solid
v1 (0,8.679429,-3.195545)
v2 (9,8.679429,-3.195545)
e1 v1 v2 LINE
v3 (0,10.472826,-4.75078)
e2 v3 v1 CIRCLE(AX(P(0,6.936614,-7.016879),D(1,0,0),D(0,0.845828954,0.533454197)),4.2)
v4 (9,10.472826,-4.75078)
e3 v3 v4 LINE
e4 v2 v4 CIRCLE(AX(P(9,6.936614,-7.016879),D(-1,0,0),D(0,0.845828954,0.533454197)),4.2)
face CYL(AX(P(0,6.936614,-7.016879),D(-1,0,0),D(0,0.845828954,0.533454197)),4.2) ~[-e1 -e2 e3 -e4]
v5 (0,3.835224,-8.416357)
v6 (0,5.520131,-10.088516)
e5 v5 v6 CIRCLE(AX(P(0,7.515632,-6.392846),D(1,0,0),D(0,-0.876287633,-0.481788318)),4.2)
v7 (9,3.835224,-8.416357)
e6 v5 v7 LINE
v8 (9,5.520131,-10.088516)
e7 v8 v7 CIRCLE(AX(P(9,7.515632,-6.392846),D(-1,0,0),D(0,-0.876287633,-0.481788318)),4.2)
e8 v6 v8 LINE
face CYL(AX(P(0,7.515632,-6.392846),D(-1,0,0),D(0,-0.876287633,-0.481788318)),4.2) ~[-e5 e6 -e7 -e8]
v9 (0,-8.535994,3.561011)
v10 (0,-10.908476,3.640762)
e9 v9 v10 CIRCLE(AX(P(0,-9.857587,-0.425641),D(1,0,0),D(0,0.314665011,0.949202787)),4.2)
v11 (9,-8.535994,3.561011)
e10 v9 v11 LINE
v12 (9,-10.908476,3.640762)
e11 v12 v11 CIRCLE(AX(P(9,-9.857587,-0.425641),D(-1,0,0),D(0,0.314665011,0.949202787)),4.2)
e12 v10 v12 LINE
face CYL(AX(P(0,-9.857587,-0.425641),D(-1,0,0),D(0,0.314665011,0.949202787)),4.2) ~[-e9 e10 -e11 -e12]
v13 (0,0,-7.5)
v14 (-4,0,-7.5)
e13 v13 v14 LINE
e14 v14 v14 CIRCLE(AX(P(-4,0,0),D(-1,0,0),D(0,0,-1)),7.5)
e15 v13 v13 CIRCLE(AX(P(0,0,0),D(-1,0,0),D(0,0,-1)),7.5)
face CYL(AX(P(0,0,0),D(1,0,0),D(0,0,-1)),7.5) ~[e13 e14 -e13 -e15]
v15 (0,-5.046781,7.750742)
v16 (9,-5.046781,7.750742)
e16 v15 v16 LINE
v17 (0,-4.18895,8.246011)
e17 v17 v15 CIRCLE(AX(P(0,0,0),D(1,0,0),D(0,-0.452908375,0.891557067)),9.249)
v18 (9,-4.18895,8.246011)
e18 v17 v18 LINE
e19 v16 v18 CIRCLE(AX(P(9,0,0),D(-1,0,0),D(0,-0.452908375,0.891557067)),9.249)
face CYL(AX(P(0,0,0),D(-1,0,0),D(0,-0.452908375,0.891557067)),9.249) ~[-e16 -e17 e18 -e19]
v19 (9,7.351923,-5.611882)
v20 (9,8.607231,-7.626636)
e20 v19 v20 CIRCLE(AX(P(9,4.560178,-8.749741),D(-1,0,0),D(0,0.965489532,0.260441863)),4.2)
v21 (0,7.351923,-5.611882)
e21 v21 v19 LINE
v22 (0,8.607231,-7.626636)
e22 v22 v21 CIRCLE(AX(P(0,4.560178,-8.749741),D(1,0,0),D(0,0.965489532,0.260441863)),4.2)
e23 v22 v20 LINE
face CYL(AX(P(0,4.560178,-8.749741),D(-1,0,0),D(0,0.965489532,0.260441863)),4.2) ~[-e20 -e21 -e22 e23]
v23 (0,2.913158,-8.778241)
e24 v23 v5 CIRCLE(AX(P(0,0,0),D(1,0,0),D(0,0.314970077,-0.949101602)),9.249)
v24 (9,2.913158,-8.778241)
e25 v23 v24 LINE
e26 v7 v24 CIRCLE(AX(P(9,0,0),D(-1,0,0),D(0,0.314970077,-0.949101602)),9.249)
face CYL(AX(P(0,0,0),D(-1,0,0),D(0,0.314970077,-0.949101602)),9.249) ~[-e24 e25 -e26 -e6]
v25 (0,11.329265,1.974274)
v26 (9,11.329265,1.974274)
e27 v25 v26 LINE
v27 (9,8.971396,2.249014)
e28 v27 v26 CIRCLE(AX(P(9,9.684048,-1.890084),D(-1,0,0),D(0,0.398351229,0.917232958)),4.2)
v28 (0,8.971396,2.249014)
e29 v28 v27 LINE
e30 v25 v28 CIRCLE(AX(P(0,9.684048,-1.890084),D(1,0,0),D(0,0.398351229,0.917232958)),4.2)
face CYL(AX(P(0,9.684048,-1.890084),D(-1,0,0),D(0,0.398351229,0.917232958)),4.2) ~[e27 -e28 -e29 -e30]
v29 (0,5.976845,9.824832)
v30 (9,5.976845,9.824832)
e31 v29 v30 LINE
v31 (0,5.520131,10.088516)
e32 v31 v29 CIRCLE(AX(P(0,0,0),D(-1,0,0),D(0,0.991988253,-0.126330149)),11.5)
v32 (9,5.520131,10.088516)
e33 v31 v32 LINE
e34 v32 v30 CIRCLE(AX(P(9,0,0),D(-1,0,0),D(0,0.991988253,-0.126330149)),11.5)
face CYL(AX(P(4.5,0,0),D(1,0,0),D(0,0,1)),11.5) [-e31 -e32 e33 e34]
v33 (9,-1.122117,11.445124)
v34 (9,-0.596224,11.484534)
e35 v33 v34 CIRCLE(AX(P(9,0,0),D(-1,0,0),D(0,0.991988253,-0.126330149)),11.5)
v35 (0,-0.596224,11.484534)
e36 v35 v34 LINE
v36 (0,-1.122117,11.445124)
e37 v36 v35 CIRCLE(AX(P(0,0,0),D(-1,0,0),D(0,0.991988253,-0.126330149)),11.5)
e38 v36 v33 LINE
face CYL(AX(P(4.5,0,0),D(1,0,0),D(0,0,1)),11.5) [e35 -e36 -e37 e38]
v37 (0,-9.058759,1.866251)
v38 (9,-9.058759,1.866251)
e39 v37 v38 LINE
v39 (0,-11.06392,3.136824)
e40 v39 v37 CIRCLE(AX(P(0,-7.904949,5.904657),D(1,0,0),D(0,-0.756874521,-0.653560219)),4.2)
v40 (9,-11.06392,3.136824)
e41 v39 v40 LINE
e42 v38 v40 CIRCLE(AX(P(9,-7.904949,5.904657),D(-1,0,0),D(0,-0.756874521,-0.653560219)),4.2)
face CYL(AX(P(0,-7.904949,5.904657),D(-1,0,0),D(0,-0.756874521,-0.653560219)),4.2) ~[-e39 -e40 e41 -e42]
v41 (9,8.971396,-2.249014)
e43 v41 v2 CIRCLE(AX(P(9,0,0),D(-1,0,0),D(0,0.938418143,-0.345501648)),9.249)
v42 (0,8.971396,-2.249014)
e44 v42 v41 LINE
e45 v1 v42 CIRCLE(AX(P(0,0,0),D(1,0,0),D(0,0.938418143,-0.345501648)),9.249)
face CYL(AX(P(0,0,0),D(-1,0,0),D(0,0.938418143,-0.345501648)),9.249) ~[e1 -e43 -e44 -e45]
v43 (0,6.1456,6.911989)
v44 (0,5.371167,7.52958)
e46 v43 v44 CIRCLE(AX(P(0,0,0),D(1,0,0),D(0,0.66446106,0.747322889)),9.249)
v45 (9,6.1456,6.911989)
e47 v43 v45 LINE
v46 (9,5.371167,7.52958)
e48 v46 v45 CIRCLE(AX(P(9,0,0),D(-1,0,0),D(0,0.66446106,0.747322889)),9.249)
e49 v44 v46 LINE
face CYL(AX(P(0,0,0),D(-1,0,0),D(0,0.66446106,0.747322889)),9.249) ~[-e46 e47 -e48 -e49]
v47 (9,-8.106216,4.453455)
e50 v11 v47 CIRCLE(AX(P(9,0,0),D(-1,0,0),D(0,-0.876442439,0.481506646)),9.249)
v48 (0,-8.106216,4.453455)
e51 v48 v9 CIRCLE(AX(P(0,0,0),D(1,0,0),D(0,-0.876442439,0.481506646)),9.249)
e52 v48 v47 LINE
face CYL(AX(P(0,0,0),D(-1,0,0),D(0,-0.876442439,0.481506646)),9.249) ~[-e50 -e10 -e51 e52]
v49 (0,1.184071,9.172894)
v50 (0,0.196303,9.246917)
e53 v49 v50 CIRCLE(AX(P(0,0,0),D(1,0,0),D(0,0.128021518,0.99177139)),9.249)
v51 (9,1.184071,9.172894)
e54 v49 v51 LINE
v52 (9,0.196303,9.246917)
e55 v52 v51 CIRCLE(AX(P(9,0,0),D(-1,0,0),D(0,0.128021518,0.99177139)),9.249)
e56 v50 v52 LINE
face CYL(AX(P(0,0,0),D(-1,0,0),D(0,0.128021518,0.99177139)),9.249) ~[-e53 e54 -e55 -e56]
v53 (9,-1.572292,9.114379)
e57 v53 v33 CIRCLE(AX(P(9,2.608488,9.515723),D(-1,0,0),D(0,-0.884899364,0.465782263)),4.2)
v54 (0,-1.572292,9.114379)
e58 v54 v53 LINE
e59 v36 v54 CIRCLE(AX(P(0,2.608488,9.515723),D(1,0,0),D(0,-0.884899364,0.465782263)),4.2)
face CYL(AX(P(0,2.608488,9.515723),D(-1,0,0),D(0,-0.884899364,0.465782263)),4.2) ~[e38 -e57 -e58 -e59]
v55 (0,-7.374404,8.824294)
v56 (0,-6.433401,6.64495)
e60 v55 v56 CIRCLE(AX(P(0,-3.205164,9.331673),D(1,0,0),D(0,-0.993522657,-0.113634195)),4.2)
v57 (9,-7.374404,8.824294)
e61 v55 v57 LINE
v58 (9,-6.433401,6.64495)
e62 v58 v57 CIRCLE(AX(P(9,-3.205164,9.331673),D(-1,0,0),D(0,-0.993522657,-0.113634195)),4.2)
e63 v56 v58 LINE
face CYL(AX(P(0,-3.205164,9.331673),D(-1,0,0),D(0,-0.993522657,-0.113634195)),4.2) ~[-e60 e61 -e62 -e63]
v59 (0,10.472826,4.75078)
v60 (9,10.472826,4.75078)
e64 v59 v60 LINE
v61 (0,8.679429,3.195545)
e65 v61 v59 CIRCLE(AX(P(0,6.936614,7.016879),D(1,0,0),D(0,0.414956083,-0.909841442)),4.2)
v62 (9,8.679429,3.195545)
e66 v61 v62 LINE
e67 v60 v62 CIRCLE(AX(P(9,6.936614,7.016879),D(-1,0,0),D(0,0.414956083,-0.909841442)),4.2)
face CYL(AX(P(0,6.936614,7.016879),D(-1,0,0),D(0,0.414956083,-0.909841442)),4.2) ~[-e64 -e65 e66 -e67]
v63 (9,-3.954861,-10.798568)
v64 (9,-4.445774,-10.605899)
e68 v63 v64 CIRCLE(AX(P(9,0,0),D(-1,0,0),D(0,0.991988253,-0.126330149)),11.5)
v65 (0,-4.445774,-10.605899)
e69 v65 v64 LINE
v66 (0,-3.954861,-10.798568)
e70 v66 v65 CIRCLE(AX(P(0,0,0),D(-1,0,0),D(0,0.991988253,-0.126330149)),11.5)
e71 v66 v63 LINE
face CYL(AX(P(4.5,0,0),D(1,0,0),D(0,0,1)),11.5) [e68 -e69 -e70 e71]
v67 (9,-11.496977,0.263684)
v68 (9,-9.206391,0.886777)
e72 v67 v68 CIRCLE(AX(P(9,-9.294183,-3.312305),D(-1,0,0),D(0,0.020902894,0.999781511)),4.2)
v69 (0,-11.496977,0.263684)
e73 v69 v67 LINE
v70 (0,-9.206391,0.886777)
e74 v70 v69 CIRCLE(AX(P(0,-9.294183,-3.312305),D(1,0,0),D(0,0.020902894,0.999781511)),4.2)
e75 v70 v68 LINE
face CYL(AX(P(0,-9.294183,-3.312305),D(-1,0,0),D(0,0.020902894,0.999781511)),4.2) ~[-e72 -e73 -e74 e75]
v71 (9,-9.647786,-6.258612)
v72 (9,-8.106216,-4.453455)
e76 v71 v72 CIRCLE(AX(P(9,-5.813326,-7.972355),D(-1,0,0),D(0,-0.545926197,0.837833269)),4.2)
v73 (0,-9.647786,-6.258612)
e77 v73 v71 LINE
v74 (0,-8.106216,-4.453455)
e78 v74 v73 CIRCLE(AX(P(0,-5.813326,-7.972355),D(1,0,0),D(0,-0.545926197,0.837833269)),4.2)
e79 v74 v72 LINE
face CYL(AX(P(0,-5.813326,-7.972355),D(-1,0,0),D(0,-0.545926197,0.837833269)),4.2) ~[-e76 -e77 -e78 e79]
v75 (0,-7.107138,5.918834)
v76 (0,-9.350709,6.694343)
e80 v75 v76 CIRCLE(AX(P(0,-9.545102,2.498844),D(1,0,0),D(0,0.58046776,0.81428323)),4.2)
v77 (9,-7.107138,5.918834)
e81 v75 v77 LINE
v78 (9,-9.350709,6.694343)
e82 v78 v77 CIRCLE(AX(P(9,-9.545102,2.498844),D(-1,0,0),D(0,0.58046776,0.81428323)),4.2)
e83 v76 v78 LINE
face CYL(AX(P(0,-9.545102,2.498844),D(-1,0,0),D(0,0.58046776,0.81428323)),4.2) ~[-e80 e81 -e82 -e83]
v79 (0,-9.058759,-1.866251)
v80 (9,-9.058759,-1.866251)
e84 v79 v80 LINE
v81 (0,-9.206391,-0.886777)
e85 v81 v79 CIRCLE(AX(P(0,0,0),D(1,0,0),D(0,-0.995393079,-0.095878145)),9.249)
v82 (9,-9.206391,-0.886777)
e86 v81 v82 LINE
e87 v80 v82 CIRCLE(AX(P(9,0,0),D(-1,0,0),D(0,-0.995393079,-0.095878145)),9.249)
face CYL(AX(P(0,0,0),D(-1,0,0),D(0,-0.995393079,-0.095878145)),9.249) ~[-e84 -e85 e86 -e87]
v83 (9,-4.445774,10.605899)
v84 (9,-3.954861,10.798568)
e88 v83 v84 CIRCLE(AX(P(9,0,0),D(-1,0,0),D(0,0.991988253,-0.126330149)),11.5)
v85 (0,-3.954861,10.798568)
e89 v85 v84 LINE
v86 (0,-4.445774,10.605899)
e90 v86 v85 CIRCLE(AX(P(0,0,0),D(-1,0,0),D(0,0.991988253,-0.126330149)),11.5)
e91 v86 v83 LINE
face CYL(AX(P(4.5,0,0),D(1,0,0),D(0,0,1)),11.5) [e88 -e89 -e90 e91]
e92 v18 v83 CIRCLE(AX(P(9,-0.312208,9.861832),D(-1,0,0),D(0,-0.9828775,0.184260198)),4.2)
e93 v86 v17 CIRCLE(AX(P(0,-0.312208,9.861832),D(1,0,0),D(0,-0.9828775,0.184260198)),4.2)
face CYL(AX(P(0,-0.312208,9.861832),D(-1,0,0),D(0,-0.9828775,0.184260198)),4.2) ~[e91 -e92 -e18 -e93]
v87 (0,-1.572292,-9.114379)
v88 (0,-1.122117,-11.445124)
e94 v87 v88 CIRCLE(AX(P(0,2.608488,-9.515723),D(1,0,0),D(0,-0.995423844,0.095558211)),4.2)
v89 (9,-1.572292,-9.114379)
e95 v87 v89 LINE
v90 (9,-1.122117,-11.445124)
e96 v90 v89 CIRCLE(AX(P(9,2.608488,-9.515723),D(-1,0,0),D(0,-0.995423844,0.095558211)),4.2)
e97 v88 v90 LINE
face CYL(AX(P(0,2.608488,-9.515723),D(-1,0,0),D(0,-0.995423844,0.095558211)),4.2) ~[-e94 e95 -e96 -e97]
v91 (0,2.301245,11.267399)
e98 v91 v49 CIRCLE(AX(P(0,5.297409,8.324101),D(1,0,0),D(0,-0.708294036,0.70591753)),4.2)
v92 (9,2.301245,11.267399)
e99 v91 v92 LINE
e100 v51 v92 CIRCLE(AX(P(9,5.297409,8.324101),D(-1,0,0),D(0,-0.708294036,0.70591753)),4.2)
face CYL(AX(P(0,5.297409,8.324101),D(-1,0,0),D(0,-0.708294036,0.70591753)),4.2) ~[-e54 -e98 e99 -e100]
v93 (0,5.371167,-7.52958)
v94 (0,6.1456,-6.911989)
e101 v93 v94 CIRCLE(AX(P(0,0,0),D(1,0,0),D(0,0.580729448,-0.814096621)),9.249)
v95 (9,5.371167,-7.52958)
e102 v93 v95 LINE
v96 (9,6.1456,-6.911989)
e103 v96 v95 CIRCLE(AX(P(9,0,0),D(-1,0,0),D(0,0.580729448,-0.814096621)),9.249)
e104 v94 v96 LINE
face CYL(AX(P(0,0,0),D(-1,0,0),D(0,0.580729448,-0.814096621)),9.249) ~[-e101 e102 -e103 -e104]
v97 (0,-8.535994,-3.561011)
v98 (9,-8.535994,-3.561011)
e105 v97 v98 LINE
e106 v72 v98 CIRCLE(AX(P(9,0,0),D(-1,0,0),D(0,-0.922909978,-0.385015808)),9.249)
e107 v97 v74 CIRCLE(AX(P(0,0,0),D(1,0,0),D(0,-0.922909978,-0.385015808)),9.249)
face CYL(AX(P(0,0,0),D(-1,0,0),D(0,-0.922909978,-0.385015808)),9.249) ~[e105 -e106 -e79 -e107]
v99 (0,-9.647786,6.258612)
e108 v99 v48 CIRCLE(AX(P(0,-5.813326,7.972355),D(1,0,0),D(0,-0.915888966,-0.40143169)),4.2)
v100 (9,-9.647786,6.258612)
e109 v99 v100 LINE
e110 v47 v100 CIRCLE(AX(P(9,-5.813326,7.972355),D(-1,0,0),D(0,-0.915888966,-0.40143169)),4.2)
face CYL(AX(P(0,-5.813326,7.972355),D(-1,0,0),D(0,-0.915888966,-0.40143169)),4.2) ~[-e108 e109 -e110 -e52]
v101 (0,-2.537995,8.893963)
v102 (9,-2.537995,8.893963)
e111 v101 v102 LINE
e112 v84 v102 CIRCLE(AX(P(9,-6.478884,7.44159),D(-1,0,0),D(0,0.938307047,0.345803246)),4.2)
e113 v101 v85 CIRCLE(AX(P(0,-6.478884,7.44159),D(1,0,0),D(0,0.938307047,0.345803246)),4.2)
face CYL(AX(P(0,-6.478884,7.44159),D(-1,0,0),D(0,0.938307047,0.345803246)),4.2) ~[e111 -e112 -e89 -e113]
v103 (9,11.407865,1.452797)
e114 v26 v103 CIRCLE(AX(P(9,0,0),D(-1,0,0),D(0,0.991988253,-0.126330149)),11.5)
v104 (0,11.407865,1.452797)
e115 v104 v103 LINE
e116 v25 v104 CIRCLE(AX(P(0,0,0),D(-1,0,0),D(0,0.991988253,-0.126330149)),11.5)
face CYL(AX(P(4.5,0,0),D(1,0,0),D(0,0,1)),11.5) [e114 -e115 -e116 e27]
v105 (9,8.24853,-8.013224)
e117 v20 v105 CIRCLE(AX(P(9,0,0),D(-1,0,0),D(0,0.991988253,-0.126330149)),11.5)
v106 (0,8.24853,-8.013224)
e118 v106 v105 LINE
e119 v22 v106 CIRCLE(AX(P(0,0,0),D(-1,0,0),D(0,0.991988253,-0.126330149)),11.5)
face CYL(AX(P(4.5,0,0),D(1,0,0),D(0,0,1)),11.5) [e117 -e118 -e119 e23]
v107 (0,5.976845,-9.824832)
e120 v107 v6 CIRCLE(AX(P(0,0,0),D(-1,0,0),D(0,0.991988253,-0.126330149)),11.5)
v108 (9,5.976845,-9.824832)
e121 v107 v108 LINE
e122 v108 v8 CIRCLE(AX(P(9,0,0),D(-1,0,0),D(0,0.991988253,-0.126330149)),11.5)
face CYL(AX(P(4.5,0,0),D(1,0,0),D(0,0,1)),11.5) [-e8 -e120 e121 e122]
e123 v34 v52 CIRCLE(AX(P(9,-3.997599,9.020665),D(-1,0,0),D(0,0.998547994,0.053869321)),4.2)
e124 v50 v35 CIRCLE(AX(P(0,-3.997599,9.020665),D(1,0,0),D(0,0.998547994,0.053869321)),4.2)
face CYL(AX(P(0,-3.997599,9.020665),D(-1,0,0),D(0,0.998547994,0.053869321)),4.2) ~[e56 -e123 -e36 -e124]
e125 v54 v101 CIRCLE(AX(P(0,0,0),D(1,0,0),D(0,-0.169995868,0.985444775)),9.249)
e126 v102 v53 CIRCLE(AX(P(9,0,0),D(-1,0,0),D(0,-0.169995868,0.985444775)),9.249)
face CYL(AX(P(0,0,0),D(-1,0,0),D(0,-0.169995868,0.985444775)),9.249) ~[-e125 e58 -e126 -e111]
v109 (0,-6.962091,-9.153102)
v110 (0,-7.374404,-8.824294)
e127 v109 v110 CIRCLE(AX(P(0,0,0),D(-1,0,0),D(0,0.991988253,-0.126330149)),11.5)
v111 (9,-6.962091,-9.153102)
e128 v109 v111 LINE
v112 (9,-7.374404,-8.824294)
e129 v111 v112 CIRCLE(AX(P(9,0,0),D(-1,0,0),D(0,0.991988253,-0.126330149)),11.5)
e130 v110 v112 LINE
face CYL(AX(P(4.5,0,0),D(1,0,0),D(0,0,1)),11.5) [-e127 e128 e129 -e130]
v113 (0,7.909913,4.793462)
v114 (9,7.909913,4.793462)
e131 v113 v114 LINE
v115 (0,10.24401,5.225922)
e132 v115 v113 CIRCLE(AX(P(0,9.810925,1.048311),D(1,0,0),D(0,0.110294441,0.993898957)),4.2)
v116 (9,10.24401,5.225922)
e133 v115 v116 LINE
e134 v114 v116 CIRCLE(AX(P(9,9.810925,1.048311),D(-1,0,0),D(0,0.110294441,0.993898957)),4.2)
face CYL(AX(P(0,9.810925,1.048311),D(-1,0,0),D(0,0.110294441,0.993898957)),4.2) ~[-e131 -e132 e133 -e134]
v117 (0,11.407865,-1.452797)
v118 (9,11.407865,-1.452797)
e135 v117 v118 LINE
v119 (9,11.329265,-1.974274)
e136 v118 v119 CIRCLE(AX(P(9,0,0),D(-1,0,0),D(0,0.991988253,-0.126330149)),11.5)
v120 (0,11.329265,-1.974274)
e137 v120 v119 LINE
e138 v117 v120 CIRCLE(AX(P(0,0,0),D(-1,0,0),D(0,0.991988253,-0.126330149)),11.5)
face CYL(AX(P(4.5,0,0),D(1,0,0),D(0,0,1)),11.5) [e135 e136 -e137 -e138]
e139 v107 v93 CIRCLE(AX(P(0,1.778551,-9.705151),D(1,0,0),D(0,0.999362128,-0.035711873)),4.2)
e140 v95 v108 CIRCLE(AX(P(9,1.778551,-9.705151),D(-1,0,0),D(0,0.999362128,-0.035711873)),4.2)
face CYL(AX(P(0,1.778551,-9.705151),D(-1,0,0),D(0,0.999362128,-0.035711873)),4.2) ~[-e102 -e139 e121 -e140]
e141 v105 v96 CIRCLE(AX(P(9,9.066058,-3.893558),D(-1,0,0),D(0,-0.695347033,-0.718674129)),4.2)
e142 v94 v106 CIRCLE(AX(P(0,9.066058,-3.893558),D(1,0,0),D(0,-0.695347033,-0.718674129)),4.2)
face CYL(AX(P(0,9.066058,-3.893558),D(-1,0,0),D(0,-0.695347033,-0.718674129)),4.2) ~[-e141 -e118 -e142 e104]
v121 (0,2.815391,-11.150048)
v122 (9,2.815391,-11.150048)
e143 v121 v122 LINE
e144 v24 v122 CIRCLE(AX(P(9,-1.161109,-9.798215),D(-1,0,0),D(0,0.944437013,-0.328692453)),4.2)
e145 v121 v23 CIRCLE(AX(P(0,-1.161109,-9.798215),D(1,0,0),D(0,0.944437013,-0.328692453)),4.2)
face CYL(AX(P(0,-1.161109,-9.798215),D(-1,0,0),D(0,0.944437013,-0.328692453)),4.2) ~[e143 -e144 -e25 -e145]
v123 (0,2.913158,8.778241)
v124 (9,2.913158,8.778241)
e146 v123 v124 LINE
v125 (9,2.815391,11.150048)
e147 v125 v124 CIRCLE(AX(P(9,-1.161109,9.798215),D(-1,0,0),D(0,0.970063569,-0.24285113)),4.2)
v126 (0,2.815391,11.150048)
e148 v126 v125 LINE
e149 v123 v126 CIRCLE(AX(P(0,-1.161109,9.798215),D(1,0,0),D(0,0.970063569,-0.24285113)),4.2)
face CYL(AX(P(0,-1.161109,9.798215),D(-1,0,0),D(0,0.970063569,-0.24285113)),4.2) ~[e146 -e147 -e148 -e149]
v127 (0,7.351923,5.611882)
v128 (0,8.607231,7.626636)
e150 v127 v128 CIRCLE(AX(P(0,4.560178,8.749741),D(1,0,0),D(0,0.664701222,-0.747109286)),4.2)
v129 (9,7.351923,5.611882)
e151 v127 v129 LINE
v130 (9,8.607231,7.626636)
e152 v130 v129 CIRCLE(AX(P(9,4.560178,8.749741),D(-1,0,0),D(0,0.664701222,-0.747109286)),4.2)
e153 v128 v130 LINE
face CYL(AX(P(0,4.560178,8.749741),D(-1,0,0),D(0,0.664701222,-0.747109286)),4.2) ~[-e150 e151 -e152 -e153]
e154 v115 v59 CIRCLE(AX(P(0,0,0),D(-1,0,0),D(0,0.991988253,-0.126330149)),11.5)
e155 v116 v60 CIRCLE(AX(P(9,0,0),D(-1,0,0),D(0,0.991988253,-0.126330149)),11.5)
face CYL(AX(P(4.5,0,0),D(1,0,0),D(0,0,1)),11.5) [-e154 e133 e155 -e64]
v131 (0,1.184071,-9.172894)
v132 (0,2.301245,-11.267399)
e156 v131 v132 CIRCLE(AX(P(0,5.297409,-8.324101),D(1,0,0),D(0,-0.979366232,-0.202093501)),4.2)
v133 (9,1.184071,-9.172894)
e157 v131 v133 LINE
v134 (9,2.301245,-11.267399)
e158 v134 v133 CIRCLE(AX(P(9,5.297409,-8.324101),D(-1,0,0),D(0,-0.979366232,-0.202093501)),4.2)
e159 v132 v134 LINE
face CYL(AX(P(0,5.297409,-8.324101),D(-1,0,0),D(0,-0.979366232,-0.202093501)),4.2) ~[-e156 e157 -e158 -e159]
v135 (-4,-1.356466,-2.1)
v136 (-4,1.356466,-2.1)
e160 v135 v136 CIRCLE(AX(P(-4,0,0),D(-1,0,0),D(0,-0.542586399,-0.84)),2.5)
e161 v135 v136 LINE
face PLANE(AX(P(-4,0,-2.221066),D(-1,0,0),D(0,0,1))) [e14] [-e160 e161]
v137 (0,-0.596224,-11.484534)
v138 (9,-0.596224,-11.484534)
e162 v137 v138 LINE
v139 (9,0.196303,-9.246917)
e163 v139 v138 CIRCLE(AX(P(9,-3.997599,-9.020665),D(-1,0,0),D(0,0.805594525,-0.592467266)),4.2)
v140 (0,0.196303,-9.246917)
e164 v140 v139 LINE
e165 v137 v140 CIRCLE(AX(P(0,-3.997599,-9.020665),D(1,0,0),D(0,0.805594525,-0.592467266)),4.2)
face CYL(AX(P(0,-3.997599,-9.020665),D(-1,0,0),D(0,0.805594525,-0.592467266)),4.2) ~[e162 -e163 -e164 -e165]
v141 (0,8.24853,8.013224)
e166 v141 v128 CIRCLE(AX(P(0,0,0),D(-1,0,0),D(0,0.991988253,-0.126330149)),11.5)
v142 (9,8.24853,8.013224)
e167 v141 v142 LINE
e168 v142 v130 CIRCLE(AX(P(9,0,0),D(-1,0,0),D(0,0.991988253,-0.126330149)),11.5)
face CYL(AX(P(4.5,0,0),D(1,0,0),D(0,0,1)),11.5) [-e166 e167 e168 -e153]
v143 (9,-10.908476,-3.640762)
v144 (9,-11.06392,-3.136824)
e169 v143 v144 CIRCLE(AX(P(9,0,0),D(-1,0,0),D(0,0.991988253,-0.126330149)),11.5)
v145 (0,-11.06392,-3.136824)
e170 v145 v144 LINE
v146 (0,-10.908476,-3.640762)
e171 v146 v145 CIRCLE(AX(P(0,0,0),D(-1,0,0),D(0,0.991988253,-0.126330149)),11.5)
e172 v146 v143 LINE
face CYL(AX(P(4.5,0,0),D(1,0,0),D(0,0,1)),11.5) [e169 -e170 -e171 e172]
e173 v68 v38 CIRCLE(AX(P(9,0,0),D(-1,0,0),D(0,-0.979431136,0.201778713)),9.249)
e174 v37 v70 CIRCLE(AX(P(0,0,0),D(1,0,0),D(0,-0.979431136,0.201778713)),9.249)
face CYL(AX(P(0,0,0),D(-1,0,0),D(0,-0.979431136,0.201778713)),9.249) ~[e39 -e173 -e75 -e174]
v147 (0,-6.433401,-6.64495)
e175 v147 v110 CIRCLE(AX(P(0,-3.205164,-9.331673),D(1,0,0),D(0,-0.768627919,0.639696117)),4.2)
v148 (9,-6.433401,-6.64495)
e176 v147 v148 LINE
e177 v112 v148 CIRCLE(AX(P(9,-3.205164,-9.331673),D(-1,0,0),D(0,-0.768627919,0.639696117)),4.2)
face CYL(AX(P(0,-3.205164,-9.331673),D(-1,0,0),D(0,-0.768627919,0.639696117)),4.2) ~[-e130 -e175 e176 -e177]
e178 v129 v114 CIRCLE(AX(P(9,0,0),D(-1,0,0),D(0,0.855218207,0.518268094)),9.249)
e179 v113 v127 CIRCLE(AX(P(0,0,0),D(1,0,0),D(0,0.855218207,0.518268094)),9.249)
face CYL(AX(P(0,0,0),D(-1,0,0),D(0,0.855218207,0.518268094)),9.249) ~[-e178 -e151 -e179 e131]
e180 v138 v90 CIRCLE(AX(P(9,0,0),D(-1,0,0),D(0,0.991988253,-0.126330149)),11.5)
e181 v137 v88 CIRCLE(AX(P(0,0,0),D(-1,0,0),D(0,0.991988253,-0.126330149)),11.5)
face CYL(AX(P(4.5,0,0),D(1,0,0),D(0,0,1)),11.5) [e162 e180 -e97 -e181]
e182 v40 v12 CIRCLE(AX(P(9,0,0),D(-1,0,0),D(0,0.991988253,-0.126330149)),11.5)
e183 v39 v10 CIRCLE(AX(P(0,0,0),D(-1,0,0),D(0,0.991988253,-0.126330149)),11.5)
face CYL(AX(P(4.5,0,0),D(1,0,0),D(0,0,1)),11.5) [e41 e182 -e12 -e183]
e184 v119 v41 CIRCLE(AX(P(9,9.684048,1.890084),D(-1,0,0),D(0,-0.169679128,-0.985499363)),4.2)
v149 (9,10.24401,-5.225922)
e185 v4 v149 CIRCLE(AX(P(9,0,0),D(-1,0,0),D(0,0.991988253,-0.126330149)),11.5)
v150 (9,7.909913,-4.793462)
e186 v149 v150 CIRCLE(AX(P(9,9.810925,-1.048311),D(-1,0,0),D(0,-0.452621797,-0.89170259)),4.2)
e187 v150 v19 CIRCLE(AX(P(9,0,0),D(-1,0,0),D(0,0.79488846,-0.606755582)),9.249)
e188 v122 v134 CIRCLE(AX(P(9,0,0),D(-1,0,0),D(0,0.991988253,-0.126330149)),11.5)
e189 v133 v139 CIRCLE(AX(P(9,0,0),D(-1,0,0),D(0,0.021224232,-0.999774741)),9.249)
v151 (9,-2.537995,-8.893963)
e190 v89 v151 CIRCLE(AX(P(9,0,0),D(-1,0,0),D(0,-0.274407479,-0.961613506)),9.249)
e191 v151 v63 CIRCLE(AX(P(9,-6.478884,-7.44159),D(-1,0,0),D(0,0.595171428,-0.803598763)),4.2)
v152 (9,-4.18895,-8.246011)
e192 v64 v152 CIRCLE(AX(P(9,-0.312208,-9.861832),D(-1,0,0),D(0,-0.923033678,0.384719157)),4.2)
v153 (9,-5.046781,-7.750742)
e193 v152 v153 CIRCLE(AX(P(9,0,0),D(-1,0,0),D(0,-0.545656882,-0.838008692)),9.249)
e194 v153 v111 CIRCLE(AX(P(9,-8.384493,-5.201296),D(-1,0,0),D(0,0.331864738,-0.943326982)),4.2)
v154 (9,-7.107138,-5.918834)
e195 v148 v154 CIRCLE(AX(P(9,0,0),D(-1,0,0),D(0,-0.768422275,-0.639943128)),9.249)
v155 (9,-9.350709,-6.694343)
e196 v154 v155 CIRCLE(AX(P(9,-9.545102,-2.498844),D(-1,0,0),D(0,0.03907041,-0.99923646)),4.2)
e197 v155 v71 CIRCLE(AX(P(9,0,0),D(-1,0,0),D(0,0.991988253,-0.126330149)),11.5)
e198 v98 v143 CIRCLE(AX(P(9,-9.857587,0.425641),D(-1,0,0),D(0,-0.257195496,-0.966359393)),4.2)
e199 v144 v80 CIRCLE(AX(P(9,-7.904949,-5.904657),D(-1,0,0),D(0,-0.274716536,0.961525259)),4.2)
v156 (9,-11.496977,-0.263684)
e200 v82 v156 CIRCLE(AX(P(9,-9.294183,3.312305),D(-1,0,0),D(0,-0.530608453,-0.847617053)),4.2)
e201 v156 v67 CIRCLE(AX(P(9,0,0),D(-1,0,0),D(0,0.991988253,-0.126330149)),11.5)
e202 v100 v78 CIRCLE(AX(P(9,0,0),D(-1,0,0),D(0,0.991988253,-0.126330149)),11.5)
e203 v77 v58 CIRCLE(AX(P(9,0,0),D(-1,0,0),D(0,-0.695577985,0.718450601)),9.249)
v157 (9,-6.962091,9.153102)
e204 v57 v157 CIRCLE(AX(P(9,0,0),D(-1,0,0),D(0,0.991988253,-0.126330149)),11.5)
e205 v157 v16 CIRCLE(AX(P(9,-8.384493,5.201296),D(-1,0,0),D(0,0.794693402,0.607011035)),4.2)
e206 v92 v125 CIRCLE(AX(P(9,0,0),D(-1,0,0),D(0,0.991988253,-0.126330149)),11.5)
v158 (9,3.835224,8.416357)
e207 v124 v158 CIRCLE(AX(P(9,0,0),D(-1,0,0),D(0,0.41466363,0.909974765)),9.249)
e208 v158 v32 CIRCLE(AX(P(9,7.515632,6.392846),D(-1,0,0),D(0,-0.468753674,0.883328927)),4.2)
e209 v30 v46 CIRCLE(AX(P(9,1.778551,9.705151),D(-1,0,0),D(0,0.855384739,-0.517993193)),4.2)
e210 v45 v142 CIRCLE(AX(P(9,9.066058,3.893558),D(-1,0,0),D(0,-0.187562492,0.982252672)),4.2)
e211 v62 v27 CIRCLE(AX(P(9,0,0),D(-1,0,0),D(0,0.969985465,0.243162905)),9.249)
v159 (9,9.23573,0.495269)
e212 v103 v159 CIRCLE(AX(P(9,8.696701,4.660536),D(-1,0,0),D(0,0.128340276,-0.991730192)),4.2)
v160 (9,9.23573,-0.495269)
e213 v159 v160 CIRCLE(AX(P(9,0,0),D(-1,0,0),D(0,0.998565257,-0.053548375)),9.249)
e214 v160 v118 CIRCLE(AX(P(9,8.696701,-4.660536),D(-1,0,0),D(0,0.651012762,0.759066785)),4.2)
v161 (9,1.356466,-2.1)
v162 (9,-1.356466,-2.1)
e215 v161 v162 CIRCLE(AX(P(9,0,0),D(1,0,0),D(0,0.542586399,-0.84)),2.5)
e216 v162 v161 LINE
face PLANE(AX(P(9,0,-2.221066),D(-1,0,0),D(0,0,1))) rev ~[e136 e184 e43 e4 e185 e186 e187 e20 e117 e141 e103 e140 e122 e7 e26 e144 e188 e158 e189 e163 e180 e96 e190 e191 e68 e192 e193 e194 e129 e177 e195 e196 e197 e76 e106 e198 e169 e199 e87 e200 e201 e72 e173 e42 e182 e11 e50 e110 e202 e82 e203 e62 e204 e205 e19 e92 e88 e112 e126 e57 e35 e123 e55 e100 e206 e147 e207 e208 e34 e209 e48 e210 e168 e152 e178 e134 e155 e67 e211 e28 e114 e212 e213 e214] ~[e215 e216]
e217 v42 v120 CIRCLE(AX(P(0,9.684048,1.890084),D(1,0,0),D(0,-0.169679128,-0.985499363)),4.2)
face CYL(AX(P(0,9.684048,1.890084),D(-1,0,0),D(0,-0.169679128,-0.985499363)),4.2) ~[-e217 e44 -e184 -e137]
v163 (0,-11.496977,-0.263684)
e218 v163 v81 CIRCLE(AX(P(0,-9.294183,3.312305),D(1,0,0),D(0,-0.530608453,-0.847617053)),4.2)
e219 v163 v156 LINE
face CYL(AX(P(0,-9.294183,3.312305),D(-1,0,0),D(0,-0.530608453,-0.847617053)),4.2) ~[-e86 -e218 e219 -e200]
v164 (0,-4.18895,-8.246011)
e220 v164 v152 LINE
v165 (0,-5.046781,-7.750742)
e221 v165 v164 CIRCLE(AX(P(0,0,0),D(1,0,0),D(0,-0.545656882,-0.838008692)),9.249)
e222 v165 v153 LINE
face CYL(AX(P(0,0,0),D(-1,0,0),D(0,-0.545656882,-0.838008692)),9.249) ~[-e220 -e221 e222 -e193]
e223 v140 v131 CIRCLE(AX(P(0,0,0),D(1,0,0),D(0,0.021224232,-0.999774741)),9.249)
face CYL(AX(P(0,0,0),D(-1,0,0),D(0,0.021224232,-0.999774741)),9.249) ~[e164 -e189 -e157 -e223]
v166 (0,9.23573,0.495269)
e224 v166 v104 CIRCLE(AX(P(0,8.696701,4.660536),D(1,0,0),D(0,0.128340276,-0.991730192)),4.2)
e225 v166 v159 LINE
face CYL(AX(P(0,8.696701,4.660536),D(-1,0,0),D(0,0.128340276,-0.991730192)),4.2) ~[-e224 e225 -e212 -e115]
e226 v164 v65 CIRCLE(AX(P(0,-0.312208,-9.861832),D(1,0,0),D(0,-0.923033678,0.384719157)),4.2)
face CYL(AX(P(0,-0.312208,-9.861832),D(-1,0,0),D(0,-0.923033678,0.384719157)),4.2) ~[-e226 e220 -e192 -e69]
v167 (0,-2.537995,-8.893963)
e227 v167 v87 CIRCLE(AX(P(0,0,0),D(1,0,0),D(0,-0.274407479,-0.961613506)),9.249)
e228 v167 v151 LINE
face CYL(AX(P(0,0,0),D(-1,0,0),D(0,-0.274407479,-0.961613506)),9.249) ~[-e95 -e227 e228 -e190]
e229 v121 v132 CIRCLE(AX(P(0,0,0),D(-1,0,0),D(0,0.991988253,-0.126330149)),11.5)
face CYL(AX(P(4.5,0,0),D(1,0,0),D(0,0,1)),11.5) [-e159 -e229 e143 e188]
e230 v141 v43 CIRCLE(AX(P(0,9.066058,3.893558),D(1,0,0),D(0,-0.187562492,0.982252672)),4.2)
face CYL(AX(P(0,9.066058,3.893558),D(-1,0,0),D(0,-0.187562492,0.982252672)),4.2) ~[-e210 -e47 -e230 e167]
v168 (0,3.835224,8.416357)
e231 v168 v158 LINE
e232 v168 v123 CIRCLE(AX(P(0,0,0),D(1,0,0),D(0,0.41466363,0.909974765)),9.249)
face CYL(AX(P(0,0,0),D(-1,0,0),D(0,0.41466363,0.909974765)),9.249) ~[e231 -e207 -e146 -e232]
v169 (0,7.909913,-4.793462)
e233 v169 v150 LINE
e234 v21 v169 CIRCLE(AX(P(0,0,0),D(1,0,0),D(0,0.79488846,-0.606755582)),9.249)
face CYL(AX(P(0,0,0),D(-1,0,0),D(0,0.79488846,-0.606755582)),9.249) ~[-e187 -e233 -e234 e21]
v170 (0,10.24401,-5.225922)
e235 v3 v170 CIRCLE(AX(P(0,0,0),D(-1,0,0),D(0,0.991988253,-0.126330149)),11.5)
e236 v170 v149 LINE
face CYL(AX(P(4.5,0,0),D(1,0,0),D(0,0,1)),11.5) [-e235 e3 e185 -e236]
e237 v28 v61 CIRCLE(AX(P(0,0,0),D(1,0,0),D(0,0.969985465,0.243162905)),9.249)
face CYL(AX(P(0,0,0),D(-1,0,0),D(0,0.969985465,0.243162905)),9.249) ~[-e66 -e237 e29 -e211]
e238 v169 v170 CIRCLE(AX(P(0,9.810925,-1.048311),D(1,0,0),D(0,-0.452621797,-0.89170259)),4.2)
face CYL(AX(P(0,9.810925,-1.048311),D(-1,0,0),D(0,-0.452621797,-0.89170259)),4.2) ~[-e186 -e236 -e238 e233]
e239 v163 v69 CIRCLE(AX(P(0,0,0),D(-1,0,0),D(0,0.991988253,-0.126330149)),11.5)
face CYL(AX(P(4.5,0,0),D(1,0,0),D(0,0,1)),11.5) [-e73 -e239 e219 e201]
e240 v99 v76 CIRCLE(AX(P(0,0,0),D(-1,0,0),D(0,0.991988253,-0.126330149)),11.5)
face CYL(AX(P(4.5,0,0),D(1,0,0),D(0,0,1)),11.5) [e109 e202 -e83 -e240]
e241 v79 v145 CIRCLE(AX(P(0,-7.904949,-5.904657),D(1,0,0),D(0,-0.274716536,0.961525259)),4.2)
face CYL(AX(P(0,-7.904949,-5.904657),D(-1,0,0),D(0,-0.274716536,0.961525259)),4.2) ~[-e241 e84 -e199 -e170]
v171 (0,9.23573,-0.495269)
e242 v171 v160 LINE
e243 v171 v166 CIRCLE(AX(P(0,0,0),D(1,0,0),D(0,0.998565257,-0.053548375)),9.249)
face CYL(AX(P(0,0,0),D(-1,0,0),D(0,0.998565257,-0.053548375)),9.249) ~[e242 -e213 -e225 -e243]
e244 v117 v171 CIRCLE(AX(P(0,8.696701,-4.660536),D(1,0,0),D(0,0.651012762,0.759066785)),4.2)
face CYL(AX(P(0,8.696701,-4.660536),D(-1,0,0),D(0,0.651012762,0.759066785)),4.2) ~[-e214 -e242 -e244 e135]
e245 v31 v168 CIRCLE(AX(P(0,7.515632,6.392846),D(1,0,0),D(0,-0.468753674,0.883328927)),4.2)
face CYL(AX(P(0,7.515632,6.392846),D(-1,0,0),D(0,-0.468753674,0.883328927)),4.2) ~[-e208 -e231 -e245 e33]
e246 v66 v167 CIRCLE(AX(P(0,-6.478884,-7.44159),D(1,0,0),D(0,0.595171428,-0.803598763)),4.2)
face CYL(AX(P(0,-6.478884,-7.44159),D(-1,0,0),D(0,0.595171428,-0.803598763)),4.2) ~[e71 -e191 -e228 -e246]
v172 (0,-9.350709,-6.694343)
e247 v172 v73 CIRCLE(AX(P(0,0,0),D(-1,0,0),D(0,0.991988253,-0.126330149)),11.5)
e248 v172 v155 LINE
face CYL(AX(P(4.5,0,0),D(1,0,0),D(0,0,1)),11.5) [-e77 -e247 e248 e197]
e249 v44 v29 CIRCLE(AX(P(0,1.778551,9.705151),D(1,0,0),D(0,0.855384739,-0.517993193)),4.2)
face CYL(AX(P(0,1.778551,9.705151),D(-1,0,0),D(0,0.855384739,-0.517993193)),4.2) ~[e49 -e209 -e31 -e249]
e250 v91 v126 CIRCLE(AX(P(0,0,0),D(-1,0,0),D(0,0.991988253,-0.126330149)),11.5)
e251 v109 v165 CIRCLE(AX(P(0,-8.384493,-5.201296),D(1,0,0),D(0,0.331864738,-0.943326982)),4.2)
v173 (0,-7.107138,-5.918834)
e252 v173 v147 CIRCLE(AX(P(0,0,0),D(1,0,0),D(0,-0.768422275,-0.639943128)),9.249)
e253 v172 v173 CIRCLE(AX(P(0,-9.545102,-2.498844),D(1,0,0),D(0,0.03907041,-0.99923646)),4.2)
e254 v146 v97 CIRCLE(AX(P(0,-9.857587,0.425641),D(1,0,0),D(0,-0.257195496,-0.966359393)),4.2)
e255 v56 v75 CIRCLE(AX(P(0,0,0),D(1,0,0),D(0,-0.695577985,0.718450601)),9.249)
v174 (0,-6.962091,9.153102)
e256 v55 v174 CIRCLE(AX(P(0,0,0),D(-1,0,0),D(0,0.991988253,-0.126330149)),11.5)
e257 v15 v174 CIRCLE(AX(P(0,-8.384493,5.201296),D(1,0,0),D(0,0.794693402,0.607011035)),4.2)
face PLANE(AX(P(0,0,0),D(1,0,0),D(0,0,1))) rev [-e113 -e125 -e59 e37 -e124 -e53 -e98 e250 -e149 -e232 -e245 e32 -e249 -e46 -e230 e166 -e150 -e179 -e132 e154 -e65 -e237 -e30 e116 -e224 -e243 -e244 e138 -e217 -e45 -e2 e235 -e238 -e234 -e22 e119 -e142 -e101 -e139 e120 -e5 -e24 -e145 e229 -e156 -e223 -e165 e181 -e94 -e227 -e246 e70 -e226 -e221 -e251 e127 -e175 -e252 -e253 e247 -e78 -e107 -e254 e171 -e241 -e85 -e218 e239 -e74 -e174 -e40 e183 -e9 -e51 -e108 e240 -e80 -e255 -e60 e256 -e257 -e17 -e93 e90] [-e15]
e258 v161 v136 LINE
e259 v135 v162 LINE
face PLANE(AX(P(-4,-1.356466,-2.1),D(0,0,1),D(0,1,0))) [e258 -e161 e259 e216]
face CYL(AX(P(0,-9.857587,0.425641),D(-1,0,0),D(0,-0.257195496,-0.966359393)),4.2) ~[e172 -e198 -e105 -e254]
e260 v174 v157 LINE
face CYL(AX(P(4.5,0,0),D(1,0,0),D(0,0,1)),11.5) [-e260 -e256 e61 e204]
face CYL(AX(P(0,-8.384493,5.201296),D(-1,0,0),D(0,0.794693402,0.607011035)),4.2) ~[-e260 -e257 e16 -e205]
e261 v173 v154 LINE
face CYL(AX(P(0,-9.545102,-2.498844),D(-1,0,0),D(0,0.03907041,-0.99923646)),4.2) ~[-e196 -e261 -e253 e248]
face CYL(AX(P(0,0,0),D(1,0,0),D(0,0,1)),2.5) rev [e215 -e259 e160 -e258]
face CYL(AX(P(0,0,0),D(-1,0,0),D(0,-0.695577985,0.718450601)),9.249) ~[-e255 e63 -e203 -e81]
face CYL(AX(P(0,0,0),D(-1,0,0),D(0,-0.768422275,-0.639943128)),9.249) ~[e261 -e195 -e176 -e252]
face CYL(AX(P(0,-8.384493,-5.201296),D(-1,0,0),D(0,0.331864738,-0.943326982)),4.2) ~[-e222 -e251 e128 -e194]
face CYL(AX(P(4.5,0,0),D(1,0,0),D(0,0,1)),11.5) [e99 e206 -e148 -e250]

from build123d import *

# Parameters (mm, degrees)
BASPROSKE_W         = 9
BASPROSKE_H         = 11.5
TOOTHCUT_DEPTH      = 19.587630295
TEETHCUTS_COUNT     = 21
TEETHCUTS_ANGLE     = 342.857142857
BORSKE_R            = 2.5
BORE_DEPTH          = 50.0000508
SKETCH1_R           = 7.5
SKETCH1_R_2         = 2.5
BOSS_EXTRUDE1_DEPTH = 4
BOSS_EXTRUDE2_DEPTH = 13


with BuildPart() as part:
    # BasProSke → Base-Revolve (revolve)
    with BuildSketch(Plane(origin=(0, 0, 0), x_dir=(1, 0, 0), z_dir=(0, 1, 0)), mode=Mode.PRIVATE) as base_revolve_sk:
        with Locations((4.5, 5.75)):
            Rectangle(BASPROSKE_W, BASPROSKE_H)
    revolve(base_revolve_sk.sketch.rotate(Axis((-10, 0, 0), (1, 0, 0)), 180), axis=Axis((-10, 0, 0), (1, 0, 0)))

    # TooCutSke → ToothCut (cut, through all)
    with BuildSketch(Plane(origin=(0, 0, 0), x_dir=(0, 0, -1), z_dir=(1, 0, 0))):
        with BuildLine():
            ThreePointArc((0.49526894, 9.235730057), (0, 9.249), (-0.49526894, 9.235730057))
            ThreePointArc((-0.49526894, 9.235730057), (-0.823521057, 10.404716786), (-1.472455249, 11.430954496))
            ThreePointArc((-1.472455249, 11.430954496), (0, 11.5254), (1.472455249, 11.430954496))
            ThreePointArc((1.472455249, 11.430954496), (0.823521057, 10.404716786), (0.49526894, 9.235730057))
        make_face()
    toothcut = extrude(amount=TOOTHCUT_DEPTH, mode=Mode.SUBTRACT)

    # TeethCuts: ToothCut ×21 about axis
    teethcuts_axis = Axis((-10, 0, 0), (1, 0, 0))
    for i in range(1, TEETHCUTS_COUNT):
        add(toothcut.rotate(teethcuts_axis, i * TEETHCUTS_ANGLE / (TEETHCUTS_COUNT - 1)), mode=Mode.SUBTRACT)

    # BorSke → Bore (cut, symmetric)
    with BuildSketch(Plane(origin=(0, 0, 0), x_dir=(0, 0, -1), z_dir=(1, 0, 0))):
        with Locations(Location((0, 0, 0), (0, 0, 180))):
            Circle(BORSKE_R)
    extrude(amount=BORE_DEPTH, both=True, mode=Mode.SUBTRACT)

    # Sketch1 → Boss-Extrude1 (add)
    with BuildSketch(Plane.ZY):
        with Locations(Location((0, 0, 0), (0, 0, 180))):
            Circle(SKETCH1_R)
        Circle(SKETCH1_R_2, mode=Mode.SUBTRACT)
    extrude(amount=BOSS_EXTRUDE1_DEPTH)

    # Sketch2 → Boss-Extrude2 (add, through all)
    with BuildSketch(Plane.ZY.offset(4)):
        with BuildLine():
            Line((-2.1, -1.356465997), (-2.1, 1.356465997))
            ThreePointArc((-2.1, 1.356465997), (-2.5, 0), (-2.1, -1.356465997))
        make_face()
    extrude(amount=-BOSS_EXTRUDE2_DEPTH)


solid = part.part
